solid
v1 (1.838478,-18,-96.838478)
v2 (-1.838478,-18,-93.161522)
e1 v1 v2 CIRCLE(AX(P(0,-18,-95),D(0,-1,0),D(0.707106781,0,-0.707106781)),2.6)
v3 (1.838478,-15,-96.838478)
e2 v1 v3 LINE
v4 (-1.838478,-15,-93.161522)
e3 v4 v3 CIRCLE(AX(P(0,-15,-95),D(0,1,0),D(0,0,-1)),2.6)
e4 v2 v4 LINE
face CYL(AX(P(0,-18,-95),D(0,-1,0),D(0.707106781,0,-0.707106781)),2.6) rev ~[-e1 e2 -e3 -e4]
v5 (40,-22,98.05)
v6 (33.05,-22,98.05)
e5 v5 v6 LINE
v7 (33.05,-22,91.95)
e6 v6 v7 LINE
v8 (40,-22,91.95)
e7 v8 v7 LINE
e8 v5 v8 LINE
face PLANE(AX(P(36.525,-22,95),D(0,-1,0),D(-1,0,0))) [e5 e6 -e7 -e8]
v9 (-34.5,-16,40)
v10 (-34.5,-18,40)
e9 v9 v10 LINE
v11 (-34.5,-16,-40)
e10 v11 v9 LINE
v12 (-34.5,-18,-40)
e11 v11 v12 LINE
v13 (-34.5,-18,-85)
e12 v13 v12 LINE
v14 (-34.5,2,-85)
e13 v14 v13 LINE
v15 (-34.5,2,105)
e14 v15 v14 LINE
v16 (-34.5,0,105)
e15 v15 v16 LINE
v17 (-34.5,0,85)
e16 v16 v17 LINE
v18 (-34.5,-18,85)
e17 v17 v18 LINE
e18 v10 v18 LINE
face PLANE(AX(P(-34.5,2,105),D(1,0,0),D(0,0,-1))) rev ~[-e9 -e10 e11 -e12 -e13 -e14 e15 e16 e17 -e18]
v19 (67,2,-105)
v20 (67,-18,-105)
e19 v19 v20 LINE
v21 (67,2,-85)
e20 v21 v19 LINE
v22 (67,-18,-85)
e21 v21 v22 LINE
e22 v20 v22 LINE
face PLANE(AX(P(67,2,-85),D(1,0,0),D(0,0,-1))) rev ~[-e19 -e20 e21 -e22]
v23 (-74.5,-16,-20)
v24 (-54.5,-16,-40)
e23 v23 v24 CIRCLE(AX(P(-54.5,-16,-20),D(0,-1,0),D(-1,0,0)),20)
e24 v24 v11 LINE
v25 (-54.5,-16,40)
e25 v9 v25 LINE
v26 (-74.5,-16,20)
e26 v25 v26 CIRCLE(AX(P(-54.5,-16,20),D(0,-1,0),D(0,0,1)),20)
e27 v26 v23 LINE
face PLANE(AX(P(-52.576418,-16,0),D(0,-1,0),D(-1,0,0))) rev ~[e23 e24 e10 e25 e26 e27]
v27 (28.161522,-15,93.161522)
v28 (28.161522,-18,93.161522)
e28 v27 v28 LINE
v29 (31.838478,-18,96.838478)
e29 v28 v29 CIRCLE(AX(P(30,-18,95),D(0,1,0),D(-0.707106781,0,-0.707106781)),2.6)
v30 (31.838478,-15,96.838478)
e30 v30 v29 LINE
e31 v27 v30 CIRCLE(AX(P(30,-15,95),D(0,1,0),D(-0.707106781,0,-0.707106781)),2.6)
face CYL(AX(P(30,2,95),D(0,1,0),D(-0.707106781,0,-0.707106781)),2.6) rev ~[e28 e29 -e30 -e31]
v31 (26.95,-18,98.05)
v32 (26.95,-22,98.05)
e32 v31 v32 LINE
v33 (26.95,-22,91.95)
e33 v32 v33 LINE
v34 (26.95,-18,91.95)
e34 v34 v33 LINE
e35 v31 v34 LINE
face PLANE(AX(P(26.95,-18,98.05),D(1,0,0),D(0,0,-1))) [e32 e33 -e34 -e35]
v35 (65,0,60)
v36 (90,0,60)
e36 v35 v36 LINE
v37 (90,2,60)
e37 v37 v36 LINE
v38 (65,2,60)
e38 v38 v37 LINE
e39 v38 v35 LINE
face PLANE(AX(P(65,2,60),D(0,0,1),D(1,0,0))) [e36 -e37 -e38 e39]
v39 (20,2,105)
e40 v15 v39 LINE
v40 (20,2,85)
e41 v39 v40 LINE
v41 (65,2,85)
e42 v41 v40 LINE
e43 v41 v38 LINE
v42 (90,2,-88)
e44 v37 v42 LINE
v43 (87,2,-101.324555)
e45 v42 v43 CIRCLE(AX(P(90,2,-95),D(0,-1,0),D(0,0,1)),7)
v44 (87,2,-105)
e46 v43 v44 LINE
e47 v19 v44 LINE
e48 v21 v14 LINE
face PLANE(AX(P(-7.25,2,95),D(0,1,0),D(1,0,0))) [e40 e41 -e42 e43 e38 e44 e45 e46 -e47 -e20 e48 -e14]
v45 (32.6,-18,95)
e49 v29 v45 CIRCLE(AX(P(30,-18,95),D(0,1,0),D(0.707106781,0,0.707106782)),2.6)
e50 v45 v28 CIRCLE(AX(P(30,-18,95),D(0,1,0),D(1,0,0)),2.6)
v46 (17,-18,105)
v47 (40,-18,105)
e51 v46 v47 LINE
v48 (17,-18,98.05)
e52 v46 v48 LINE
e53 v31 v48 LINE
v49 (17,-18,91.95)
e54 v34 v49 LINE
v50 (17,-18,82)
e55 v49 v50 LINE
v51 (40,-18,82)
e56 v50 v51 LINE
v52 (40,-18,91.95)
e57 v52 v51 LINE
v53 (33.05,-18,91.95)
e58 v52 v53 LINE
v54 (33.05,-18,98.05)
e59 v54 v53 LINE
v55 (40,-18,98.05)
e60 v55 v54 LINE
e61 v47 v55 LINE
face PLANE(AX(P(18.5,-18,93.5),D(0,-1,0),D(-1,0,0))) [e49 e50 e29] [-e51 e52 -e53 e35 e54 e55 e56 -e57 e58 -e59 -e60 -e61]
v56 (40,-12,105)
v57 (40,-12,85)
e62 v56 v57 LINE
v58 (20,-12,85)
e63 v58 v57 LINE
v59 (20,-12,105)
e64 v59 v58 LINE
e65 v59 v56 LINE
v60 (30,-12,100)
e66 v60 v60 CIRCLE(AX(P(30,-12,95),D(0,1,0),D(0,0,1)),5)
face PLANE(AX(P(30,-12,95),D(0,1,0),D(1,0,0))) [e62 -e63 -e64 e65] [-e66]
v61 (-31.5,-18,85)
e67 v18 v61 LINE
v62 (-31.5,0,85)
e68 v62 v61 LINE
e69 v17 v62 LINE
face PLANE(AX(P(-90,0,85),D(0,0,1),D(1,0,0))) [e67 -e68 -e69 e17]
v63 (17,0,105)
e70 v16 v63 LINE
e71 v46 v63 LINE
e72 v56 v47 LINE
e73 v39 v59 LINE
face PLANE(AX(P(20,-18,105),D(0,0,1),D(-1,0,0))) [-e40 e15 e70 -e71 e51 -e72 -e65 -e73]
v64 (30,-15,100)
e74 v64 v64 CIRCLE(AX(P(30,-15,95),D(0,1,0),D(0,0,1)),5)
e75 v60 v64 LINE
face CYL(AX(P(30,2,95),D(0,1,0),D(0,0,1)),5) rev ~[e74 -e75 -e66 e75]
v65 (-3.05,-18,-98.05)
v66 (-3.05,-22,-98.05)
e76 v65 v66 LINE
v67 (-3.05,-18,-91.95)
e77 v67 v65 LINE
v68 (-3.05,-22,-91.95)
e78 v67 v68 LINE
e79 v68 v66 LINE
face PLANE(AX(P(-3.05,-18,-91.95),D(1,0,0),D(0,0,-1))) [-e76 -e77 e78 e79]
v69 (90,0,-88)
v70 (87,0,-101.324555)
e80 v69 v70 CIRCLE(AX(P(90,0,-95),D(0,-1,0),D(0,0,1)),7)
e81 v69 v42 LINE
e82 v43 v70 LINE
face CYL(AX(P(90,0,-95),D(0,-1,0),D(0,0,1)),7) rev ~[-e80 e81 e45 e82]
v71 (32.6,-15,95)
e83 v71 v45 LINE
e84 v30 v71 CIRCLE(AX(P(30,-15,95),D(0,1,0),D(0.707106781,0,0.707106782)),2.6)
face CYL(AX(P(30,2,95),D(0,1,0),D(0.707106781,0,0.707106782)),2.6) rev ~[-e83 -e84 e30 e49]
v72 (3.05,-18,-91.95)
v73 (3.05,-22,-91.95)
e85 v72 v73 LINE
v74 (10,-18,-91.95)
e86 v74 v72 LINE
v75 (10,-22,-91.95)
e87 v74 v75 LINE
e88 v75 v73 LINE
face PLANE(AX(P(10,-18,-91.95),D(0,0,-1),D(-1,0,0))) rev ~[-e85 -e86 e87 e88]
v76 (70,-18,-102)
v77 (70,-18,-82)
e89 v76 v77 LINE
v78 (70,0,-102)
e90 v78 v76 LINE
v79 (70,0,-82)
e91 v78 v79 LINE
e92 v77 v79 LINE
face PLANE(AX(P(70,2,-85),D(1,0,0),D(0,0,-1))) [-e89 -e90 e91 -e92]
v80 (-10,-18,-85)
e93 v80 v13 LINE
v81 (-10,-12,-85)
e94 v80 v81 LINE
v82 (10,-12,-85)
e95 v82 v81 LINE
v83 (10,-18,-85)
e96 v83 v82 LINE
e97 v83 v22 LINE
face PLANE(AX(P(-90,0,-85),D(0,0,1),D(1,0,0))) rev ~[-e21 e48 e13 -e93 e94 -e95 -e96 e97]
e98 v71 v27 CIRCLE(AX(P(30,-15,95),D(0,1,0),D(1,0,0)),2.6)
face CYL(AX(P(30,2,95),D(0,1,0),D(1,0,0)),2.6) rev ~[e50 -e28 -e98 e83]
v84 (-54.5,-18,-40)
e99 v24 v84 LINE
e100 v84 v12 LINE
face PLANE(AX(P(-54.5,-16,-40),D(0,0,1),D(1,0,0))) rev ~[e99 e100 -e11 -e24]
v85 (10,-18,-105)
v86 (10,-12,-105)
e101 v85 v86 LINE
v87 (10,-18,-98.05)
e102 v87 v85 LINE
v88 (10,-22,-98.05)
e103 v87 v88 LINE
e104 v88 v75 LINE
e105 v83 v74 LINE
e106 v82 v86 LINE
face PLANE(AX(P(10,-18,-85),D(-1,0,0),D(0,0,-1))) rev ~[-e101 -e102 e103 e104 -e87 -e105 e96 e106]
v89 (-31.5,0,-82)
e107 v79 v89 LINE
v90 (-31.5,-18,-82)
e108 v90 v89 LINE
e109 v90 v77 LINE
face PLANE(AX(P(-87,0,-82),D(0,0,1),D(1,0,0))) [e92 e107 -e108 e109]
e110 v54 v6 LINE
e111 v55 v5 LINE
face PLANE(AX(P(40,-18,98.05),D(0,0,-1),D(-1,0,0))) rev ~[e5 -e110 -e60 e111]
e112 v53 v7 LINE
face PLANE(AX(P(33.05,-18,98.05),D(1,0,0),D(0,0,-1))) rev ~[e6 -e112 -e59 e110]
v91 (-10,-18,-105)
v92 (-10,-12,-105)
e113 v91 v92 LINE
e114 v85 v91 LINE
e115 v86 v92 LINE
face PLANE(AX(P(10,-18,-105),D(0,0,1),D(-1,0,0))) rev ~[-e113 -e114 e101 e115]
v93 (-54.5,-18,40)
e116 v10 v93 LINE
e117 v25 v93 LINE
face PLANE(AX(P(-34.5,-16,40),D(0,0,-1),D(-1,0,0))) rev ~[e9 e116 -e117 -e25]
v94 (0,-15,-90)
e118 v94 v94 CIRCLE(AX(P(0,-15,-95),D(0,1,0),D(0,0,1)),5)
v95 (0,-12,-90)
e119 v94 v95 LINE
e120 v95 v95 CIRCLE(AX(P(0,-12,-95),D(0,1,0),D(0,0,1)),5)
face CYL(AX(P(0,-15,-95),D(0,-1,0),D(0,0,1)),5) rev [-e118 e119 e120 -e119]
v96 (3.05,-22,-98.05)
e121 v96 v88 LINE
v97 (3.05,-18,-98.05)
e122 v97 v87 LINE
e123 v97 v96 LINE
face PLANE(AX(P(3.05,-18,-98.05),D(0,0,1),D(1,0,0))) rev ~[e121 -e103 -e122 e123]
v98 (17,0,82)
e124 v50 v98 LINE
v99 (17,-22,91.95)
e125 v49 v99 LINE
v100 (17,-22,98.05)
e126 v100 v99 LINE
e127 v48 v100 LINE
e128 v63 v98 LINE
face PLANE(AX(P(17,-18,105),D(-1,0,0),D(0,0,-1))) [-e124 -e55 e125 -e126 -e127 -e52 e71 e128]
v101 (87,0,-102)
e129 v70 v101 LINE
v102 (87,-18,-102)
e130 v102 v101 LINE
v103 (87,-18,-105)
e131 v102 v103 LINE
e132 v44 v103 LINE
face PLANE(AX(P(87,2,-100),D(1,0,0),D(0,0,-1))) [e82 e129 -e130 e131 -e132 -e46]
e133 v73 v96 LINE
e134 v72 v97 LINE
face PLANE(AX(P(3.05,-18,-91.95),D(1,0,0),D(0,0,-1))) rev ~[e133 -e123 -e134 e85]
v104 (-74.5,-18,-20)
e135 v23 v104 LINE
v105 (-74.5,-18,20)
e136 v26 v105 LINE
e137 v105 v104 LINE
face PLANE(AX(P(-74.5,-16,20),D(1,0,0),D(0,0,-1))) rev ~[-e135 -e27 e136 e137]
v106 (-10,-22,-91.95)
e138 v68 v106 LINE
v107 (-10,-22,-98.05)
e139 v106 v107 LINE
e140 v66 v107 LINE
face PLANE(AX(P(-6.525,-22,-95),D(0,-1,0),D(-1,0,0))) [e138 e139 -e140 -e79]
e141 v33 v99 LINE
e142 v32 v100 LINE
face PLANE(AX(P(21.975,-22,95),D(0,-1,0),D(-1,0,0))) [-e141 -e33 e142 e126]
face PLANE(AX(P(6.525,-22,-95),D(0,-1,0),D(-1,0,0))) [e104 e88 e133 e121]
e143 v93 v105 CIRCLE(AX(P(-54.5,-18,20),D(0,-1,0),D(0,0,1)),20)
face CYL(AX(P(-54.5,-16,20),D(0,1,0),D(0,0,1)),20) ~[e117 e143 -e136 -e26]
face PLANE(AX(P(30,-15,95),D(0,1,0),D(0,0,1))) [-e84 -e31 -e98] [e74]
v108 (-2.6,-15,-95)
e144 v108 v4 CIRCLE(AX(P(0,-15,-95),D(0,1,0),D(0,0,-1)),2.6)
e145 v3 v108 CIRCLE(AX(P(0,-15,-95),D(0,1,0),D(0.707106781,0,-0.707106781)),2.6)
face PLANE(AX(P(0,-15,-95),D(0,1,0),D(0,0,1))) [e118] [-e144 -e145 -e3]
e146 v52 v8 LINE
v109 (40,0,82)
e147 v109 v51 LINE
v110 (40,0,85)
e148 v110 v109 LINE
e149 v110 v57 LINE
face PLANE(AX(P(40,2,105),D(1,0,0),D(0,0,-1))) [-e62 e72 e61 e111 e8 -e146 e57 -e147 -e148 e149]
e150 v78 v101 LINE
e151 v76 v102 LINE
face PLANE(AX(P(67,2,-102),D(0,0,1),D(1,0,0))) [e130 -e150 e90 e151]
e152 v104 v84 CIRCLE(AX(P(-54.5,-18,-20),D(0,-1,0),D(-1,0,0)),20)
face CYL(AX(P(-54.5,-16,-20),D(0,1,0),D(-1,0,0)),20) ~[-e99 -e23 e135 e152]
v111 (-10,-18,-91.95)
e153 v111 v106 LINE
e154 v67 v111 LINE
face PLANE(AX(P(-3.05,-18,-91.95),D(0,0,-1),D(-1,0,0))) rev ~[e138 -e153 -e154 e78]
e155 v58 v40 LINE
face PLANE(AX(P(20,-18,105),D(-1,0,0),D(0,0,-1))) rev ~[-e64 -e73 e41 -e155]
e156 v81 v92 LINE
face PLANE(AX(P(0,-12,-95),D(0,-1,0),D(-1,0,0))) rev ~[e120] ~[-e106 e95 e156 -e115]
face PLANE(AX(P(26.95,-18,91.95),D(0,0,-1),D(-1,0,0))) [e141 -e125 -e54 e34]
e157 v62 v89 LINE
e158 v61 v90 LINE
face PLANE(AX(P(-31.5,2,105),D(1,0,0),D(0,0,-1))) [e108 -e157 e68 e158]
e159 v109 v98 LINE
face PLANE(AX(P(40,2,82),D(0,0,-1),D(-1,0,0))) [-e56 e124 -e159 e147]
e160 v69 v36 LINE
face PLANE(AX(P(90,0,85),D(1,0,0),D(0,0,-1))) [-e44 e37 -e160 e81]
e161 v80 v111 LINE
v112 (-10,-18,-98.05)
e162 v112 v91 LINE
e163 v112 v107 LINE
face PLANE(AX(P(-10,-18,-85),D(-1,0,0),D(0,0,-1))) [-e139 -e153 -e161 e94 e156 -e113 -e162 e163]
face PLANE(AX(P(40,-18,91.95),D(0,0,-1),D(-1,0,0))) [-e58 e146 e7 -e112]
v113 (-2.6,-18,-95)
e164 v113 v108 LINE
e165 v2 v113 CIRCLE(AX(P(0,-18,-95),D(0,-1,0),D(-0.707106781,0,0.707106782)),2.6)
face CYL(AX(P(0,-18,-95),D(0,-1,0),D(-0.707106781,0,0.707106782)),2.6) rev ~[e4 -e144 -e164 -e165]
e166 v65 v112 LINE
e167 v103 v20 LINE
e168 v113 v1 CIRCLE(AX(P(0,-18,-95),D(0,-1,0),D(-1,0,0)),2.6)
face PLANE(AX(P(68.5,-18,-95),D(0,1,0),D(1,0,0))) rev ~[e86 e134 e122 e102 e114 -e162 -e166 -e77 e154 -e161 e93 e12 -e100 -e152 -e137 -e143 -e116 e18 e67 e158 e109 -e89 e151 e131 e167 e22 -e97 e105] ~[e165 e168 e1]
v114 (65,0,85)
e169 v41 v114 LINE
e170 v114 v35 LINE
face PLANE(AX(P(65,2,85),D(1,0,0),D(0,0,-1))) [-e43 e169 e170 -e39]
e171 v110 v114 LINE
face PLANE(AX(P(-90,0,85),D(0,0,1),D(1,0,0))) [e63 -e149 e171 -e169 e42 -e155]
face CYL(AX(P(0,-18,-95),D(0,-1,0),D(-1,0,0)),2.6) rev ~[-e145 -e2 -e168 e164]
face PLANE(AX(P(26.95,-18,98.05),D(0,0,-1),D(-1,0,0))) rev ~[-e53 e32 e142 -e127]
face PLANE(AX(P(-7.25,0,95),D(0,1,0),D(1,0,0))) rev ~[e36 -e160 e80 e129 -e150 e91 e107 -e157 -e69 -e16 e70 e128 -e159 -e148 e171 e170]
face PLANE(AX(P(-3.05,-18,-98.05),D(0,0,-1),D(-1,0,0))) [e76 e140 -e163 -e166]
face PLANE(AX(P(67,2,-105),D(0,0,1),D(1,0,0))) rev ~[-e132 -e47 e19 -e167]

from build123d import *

# Parameters (mm, degrees)
SKETCH_1_W           = 180
SKETCH_1_H           = 170
EXTRUDE_1_DEPTH      = 2
SKETCH_2_W           = 180
SKETCH_2_H           = 2
SKETCH_2_W_2         = 2
SKETCH_2_H_2         = 166
EXTRUDE_2_DEPTH      = 18
SKETCH_4_W           = 20
SKETCH_4_H           = 20
EXTRUDE_3_DEPTH      = 20
SKETCH_5_W           = 20
SKETCH_5_H           = 20
CUT_EXTRUDE_1_DEPTH  = 14
SKETCH_6_W           = 176
SKETCH_6_H           = 166
SKETCH_6_W_2         = 174
SKETCH_6_H_2         = 164
EXTRUDE_4_DEPTH      = 18
SKETCH_7_W           = 20
SKETCH_7_H           = 20
EXTRUDE_5_DEPTH      = 6
SKETCH_8_W           = 3
SKETCH_8_H           = 164
SKETCH_8_H_2         = 3
CUT_EXTRUDE_2_DEPTH  = 18
SKETCH_9_W           = 77
SKETCH_9_H           = 3
CUT_EXTRUDE_3_DEPTH  = 18
SKETCH_10_W          = 25
SKETCH_10_H          = 25
CUT_EXTRUDE_4_DEPTH  = 18
SKETCH_11_W          = 6.95
SKETCH_11_H          = 6.1
EXTRUDE_6_DEPTH      = 4
CUT_EXTRUDE_5_DEPTH  = 6
CUT_EXTRUDE_START    = -3
SKETCH_13_R          = 5
SKETCH_13_R_2        = 2.6
CUT_EXTRUDE_6_DEPTH  = 3
CUT_EXTRUDE_7_DEPTH  = 3
SKETCH_15_R          = 2.6
CUT_EXTRUDE_8_DEPTH  = 3
SKETCH_16_W          = 6.1
SKETCH_16_H          = 6.95
EXTRUDE_7_DEPTH      = 4
CUT_EXTRUDE_9_DEPTH  = 6
SKETCH_18_R          = 5
SKETCH_18_R_2        = 2.6
CUT_EXTRUDE_10_DEPTH = 3
EXTRUDE_8_DEPTH      = 4
SKETCH_20_W          = 30
SKETCH_20_H          = 20
SKETCH_20_W_2        = 80
EXTRUDE_9_DEPTH      = 2
SKETCH_21_W          = 3
SKETCH_21_H          = 20
EXTRUDE_10_DEPTH     = 18
SKETCH_22_W          = 20
SKETCH_22_H          = 20
SKETCH_22_R          = 5
EXTRUDE_11_DEPTH     = 14
SKETCH_23_W          = 30
SKETCH_23_H          = 20
CUT_EXTRUDE_11_DEPTH = 14
SKETCH_24_W          = 20
SKETCH_24_H          = 20
EXTRUDE_12_DEPTH     = 2
SKETCH_25_W          = 20
SKETCH_25_H          = 3
CUT_EXTRUDE_12_DEPTH = 18
CUT_EXTRUDE_13_DEPTH = 18
SKETCH_27_W          = 3
SKETCH_27_H          = 20
EXTRUDE_13_DEPTH     = 20
SKETCH_28_W          = 23
SKETCH_28_H          = 3
EXTRUDE_14_DEPTH     = 20
SKETCH_29_W          = 3
SKETCH_29_H          = 5
CUT_EXTRUDE_14_DEPTH = 20
SKETCH_30_W          = 20
SKETCH_30_H          = 20
CUT_EXTRUDE_15_DEPTH = 30
SKETCH_31_W          = 3
SKETCH_31_H          = 190
EXTRUDE_15_DEPTH     = 20
EXTRUDE_START        = -2
EXTRUDE_16_DEPTH     = 2
SKETCH_33_W          = 40
SKETCH_33_H          = 80
CUT_EXTRUDE_16_DEPTH = 2
SKETCH_34_W          = 44.5
SKETCH_34_H          = 20
CUT_EXTRUDE_17_DEPTH = 30
SKETCH_35_W          = 20
SKETCH_35_H          = 3
CUT_EXTRUDE_18_DEPTH = 18
EXTRUDE_17_DEPTH     = 20
CUT_EXTRUDE_19_DEPTH = 20
SKETCH_38_R          = 5
CUT_EXTRUDE_20_DEPTH = 17
SKETCH_39_W          = 20
SKETCH_39_H          = 20
CUT_EXTRUDE_21_DEPTH = 14
SKETCH_40_W          = 54.5
SKETCH_40_H          = 20
EXTRUDE_18_DEPTH     = 2
SKETCH_42_W          = 3
SKETCH_42_H          = 23
EXTRUDE_20_DEPTH     = 18
SKETCH_44_W          = 9.95
SKETCH_44_H          = 6.1
SKETCH_44_W_2        = 6.95
EXTRUDE_21_DEPTH     = 4


with BuildPart() as part:
    # 草图1 → 凸台-拉伸1 (new body)
    with BuildSketch(Plane(origin=(0, 0, 0), x_dir=(1, 0, 0), z_dir=(0, 1, 0))):
        Rectangle(SKETCH_1_W, SKETCH_1_H)
    extrude(amount=EXTRUDE_1_DEPTH)

    # 草图2 → 凸台-拉伸2 (add)
    with BuildSketch(Plane(origin=(0, 0, 0), x_dir=(1, 0, 0), z_dir=(0, 1, 0))):
        with Locations((0, 84)):
            Rectangle(SKETCH_2_W, SKETCH_2_H)
        Polygon((-88, 83), (-90, 83), (-90, -85), (-88, -85), (-88, -83), align=None)
        with Locations((89, 0)):
            Rectangle(SKETCH_2_W_2, SKETCH_2_H_2)
        Polygon((90, -85), (90, -83), (88, -83), (-88, -83), (-88, -85), align=None)
    extrude(amount=-EXTRUDE_2_DEPTH)

    # 草图4 → 凸台-拉伸3 (add)
    with BuildSketch(Plane(origin=(0, 2, 0), x_dir=(1, 0, 0), z_dir=(0, 1, 0))):
        Polygon((10, -85), (0, -85), (-10, -85), (-10, -95), (-10, -105), (10, -105), (10, -95), align=None)
        with Locations((-100, 0)):
            Rectangle(SKETCH_4_W, SKETCH_4_H)
    extrude(amount=-EXTRUDE_3_DEPTH)

    # 草图5 → 切除-拉伸1 (cut)
    with BuildSketch(Plane(origin=(0, 2, 0), x_dir=(1, 0, 0), z_dir=(0, 1, 0))):
        with Locations((-100, 0)):
            Rectangle(SKETCH_5_W, SKETCH_5_H)
        with Locations((0, -95)):
            Rectangle(SKETCH_5_W, SKETCH_5_H)
    extrude(amount=-CUT_EXTRUDE_1_DEPTH, mode=Mode.SUBTRACT)

    # 草图6 → 凸台-拉伸4 (add)
    with BuildSketch(Plane.XZ):
        Rectangle(SKETCH_6_W, SKETCH_6_H)
        Rectangle(SKETCH_6_W_2, SKETCH_6_H_2, mode=Mode.SUBTRACT)
    extrude(amount=EXTRUDE_4_DEPTH)

    # 草图7 → 凸台-拉伸5 (add)
    with BuildSketch(Plane(origin=(0, -18, 0), x_dir=(-1, 0, 0), z_dir=(0, -1, 0))):
        with Locations((0, 95)):
            Rectangle(SKETCH_7_W, SKETCH_7_H)
    extrude(amount=-EXTRUDE_5_DEPTH)

    # 草图8 → 切除-拉伸2 (cut)
    with BuildSketch(Plane(origin=(0, -18, 0), x_dir=(-1, 0, 0), z_dir=(0, -1, 0))):
        with Locations((-88.5, 0)):
            Rectangle(SKETCH_8_W, SKETCH_8_H)
        with Locations((-88.5, -83.5)):
            Rectangle(SKETCH_8_W, SKETCH_8_H_2)
    extrude(amount=-CUT_EXTRUDE_2_DEPTH, mode=Mode.SUBTRACT)

    # 草图9 → 切除-拉伸3 (cut)
    with BuildSketch(Plane(origin=(0, -18, 0), x_dir=(-1, 0, 0), z_dir=(0, -1, 0))):
        with Locations((-48.5, -83.5)):
            Rectangle(SKETCH_9_W, SKETCH_9_H)
        with Locations((48.5, -83.5)):
            Rectangle(SKETCH_9_W, SKETCH_9_H)
    extrude(amount=-CUT_EXTRUDE_3_DEPTH, mode=Mode.SUBTRACT)

    # 草图10 → 切除-拉伸4 (cut)
    with BuildSketch(Plane(origin=(0, 2, 0), x_dir=(1, 0, 0), z_dir=(0, 1, 0))):
        with Locations((77.5, -72.5)):
            Rectangle(SKETCH_10_W, SKETCH_10_H)
    extrude(amount=-CUT_EXTRUDE_4_DEPTH, mode=Mode.SUBTRACT)

    # 草图11 → 凸台-拉伸6 (add)
    with BuildSketch(Plane(origin=(0, -18, 0), x_dir=(-1, 0, 0), z_dir=(0, -1, 0))):
        Polygon((-3.05, 91.95), (-3.05, 98.05), (-10, 98.05), (-10, 95), (-10, 91.95), align=None)
        with Locations((6.525, 95)):
            Rectangle(SKETCH_11_W, SKETCH_11_H)
    extrude(amount=EXTRUDE_6_DEPTH)

    # 草图12 → 切除-拉伸5 (cut)
    with BuildSketch(Plane(origin=(0, -18, 0), x_dir=(-1, 0, 0), z_dir=(0, -1, 0))):
        with BuildLine():
            ThreePointArc((-1.838477631, 96.838477631), (-1.838477631, 93.161522369), (1.838477631, 93.161522369))
            Line((1.838477631, 93.161522369), (-1.838477631, 96.838477631))
        make_face()
        with BuildLine():
            Line((-1.838477631, 96.838477631), (1.838477631, 93.161522369))
            ThreePointArc((1.838477631, 93.161522369), (2.402086785, 94.005023076), (2.6, 95))
            ThreePointArc((2.6, 95), (0.994976924, 97.402086785), (-1.838477631, 96.838477631))
        make_face()
    extrude(amount=-CUT_EXTRUDE_5_DEPTH, mode=Mode.SUBTRACT)

    # 草图13 → 切除-拉伸6 (cut)
    with BuildSketch(Plane(origin=(0, -12, 0), x_dir=(1, 0, 0), z_dir=(0, 1, 0)).offset(CUT_EXTRUDE_START)):
        with Locations(Location((0, 95, 0), (0, 0, 270))):
            Circle(SKETCH_13_R)
        with Locations(Location((0, 95, 0), (0, 0, 90))):
            Circle(SKETCH_13_R_2, mode=Mode.SUBTRACT)
    extrude(amount=CUT_EXTRUDE_6_DEPTH, mode=Mode.SUBTRACT)

    # 草图14 → 切除-拉伸7 (cut)
    with BuildSketch(Plane(origin=(0, -12, 0), x_dir=(1, 0, 0), z_dir=(0, 1, 0))):
        with BuildLine():
            ThreePointArc((-96.464466094, 3.535533906), (-103.535533906, 3.535533906), (-103.535533906, -3.535533906))
            Line((-103.535533906, -3.535533906), (-96.464466094, 3.535533906))
        make_face()
        with BuildLine():
            Line((-96.464466094, 3.535533906), (-103.535533906, -3.535533906))
            ThreePointArc((-103.535533906, -3.535533906), (-98.086582838, -4.619397663), (-95, 0))
            ThreePointArc((-95, 0), (-95.380602337, 1.913417162), (-96.464466094, 3.535533906))
        make_face()
    extrude(amount=-CUT_EXTRUDE_7_DEPTH, mode=Mode.SUBTRACT)

    # 草图15 → 切除-拉伸8 (cut)
    with BuildSketch(Plane(origin=(0, -15, 0), x_dir=(1, 0, 0), z_dir=(0, 1, 0))):
        with Locations(Location((-100, 0, 0), (0, 0, 270))):
            Circle(SKETCH_15_R)
    extrude(amount=-CUT_EXTRUDE_8_DEPTH, mode=Mode.SUBTRACT)

    # 草图16 → 凸台-拉伸7 (add)
    with BuildSketch(Plane.XZ.offset(18)):
        Polygon((-96.95, -3.05), (-100, -3.05), (-103.05, -3.05), (-103.05, -10), (-96.95, -10), align=None)
        with Locations((-100, 6.525)):
            Rectangle(SKETCH_16_W, SKETCH_16_H)
    extrude(amount=EXTRUDE_7_DEPTH)

    # 草图17 → 切除-拉伸9 (cut)
    with BuildSketch(Plane(origin=(0, -18, 0), x_dir=(-1, 0, 0), z_dir=(0, -1, 0))):
        with BuildLine():
            ThreePointArc((2.6, -95), (0.994976924, -92.597913215), (-1.838477631, -93.161522369))
            Line((-1.838477631, -93.161522369), (1.838477631, -96.838477631))
            ThreePointArc((1.838477631, -96.838477631), (2.402086785, -95.994976924), (2.6, -95))
        make_face()
        with BuildLine():
            Line((1.838477631, -96.838477631), (-1.838477631, -93.161522369))
            ThreePointArc((-1.838477631, -93.161522369), (-1.838477631, -96.838477631), (1.838477631, -96.838477631))
        make_face()
    extrude(amount=-CUT_EXTRUDE_9_DEPTH, mode=Mode.SUBTRACT)

    # 草图18 → 切除-拉伸10 (cut)
    with BuildSketch(Plane(origin=(0, -12, 0), x_dir=(1, 0, 0), z_dir=(0, 1, 0)).offset(CUT_EXTRUDE_START)):
        with Locations(Location((0, -95, 0), (0, 0, 270))):
            Circle(SKETCH_18_R)
        with Locations(Location((0, -95, 0), (0, 0, 90))):
            Circle(SKETCH_18_R_2, mode=Mode.SUBTRACT)
    extrude(amount=CUT_EXTRUDE_10_DEPTH, mode=Mode.SUBTRACT)

    # 草图19 → 凸台-拉伸8 (add)
    with BuildSketch(Plane(origin=(0, -18, 0), x_dir=(-1, 0, 0), z_dir=(0, -1, 0))):
        Polygon((3.05, -91.95), (3.05, -95), (3.05, -98.05), (10, -98.05), (10, -91.95), align=None)
        Polygon((-3.05, -98.05), (-3.05, -95), (-3.05, -91.95), (-10, -91.95), (-10, -98.05), align=None)
    extrude(amount=EXTRUDE_8_DEPTH)

    # 草图20 → 凸台-拉伸9 (add)
    with BuildSketch(Plane(origin=(0, 2, 0), x_dir=(1, 0, 0), z_dir=(0, 1, 0))):
        with Locations((25, -95)):
            Rectangle(SKETCH_20_W, SKETCH_20_H)
        with Locations((-50, -95)):
            Rectangle(SKETCH_20_W_2, SKETCH_20_H)
    extrude(amount=-EXTRUDE_9_DEPTH)

    # 草图21 → 凸台-拉伸10 (add)
    with BuildSketch(Plane(origin=(0, 0, 0), x_dir=(-1, 0, 0), z_dir=(0, -1, 0))):
        with Locations((88.5, -95)):
            Rectangle(SKETCH_21_W, SKETCH_21_H)
    extrude(amount=EXTRUDE_10_DEPTH)

    # 草图22 → 凸台-拉伸11 (add)
    with BuildSketch(Plane(origin=(0, -12, 0), x_dir=(1, 0, 0), z_dir=(0, 1, 0))):
        with Locations((0, -95)):
            Rectangle(SKETCH_22_W, SKETCH_22_H)
        with Locations(Location((0, -95, 0), (0, 0, 270))):
            Circle(SKETCH_22_R, mode=Mode.SUBTRACT)
    extrude(amount=EXTRUDE_11_DEPTH)

    # 草图23 → 切除-拉伸11 (cut)
    with BuildSketch(Plane(origin=(0, 0, 0), x_dir=(-1, 0, 0), z_dir=(0, -1, 0))):
        with Locations((-25, -95)):
            Rectangle(SKETCH_23_W, SKETCH_23_H)
    extrude(amount=-CUT_EXTRUDE_11_DEPTH, mode=Mode.SUBTRACT)

    # 草图24 → 凸台-拉伸12 (add)
    with BuildSketch(Plane(origin=(0, 2, 0), x_dir=(1, 0, 0), z_dir=(0, 1, 0))):
        with Locations((80, 95)):
            Rectangle(SKETCH_24_W, SKETCH_24_H)
    extrude(amount=-EXTRUDE_12_DEPTH)

    # 草图25 → 切除-拉伸12 (cut)
    with BuildSketch(Plane(origin=(0, -18, 0), x_dir=(-1, 0, 0), z_dir=(0, -1, 0))):
        with Locations((-80, 83.5)):
            Rectangle(SKETCH_25_W, SKETCH_25_H)
    extrude(amount=-CUT_EXTRUDE_12_DEPTH, mode=Mode.SUBTRACT)

    # 草图26 → 切除-拉伸13 (cut)
    with BuildSketch(Plane.XZ):
        with BuildLine():
            ThreePointArc((90, -88), (83, -95), (90, -102))
            Line((90, -102), (90, -95))
            Line((90, -95), (90, -88))
        make_face()
    extrude(amount=-CUT_EXTRUDE_13_DEPTH, mode=Mode.SUBTRACT)

    # 草图27 → 凸台-拉伸13 (add)
    with BuildSketch(Plane(origin=(0, 2, 0), x_dir=(1, 0, 0), z_dir=(0, 1, 0))):
        with Locations((68.5, 95)):
            Rectangle(SKETCH_27_W, SKETCH_27_H)
    extrude(amount=-EXTRUDE_13_DEPTH)

    # 草图28 → 凸台-拉伸14 (add)
    with BuildSketch(Plane(origin=(0, 2, 0), x_dir=(1, 0, 0), z_dir=(0, 1, 0))):
        with Locations((78.5, 103.5)):
            Rectangle(SKETCH_28_W, SKETCH_28_H)
    extrude(amount=-EXTRUDE_14_DEPTH)

    # 草图29 → 切除-拉伸14 (cut)
    with BuildSketch(Plane(origin=(0, 2, 0), x_dir=(1, 0, 0), z_dir=(0, 1, 0))):
        with Locations((88.5, 102.5)):
            Rectangle(SKETCH_29_W, SKETCH_29_H)
    extrude(amount=-CUT_EXTRUDE_14_DEPTH, mode=Mode.SUBTRACT)

    # 草图30 → 切除-拉伸15 (cut)
    with BuildSketch(Plane(origin=(0, 2, 0), x_dir=(1, 0, 0), z_dir=(0, 1, 0))):
        with BuildLine():
            Line((-34.5, 40), (-34.5, 85))
            Line((-34.5, 85), (-90, 85))
            Line((-90, 85), (-90, 10))
            Line((-90, 10), (-90, -10))
            Line((-90, -10), (-90, -105))
            Line((-90, -105), (-34.5, -105))
            Line((-34.5, -105), (-34.5, -85))
            Line((-34.5, -85), (-34.5, -40))
            Line((-34.5, -40), (-54.5, -40))
            ThreePointArc((-54.5, -40), (-68.642135624, -34.142135624), (-74.5, -20))
            Line((-74.5, -20), (-74.5, 20))
            ThreePointArc((-74.5, 20), (-68.642135624, 34.142135624), (-54.5, 40))
            Line((-54.5, 40), (-34.5, 40))
        make_face()
        with Locations((-100, 0)):
            Rectangle(SKETCH_30_W, SKETCH_30_H)
    extrude(amount=-CUT_EXTRUDE_15_DEPTH, mode=Mode.SUBTRACT)

    # 草图31 → 凸台-拉伸15 (add)
    with BuildSketch(Plane(origin=(0, 2, 0), x_dir=(1, 0, 0), z_dir=(0, 1, 0))):
        with Locations((-33, -10)):
            Rectangle(SKETCH_31_W, SKETCH_31_H)
    extrude(amount=-EXTRUDE_15_DEPTH)

    # 草图32 → 凸台-拉伸16 (add)
    with BuildSketch(Plane(origin=(0, -18, 0), x_dir=(-1, 0, 0), z_dir=(0, -1, 0)).offset(EXTRUDE_START)):
        with BuildLine():
            Line((34.5, -40), (54.5, -40))
            ThreePointArc((54.5, -40), (68.642135624, -34.142135624), (74.5, -20))
            Line((74.5, -20), (74.5, 20))
            ThreePointArc((74.5, 20), (68.642135624, 34.142135624), (54.5, 40))
            Line((54.5, 40), (34.5, 40))
            Line((34.5, 40), (34.5, -40))
        make_face()
    extrude(amount=EXTRUDE_16_DEPTH)

    # 草图33 → 切除-拉伸16 (cut)
    with BuildSketch(Plane(origin=(0, 2, 0), x_dir=(1, 0, 0), z_dir=(0, 1, 0))):
        with Locations((-54.5, 0)):
            Rectangle(SKETCH_33_W, SKETCH_33_H)
    extrude(amount=-CUT_EXTRUDE_16_DEPTH, mode=Mode.SUBTRACT)

    # 草图34 → 切除-拉伸17 (cut)
    with BuildSketch(Plane(origin=(0, 2, 0), x_dir=(1, 0, 0), z_dir=(0, 1, 0))):
        with Locations((-12.25, -95)):
            Rectangle(SKETCH_34_W, SKETCH_34_H)
    extrude(amount=-CUT_EXTRUDE_17_DEPTH, mode=Mode.SUBTRACT)

    # 草图35 → 切除-拉伸18 (cut)
    with BuildSketch(Plane(origin=(0, -18, 0), x_dir=(-1, 0, 0), z_dir=(0, -1, 0))):
        with Locations((0, -83.5)):
            Rectangle(SKETCH_35_W, SKETCH_35_H)
    extrude(amount=-CUT_EXTRUDE_18_DEPTH, mode=Mode.SUBTRACT)

    # 草图36 → 凸台-拉伸17 (add)
    with BuildSketch(Plane(origin=(0, 2, 0), x_dir=(1, 0, 0), z_dir=(0, 1, 0))):
        Polygon((40, -105), (40, -85), (40, -82), (20, -82), (20, -85), (20, -105), align=None)
    extrude(amount=-EXTRUDE_17_DEPTH)

    # 草图37 → 切除-拉伸19 (cut)
    with BuildSketch(Plane(origin=(0, 2, 0), x_dir=(1, 0, 0), z_dir=(0, 1, 0))):
        with BuildLine():
            ThreePointArc((32.6, -95), (30.994976924, -92.597913215), (28.161522369, -93.161522369))
            Line((28.161522369, -93.161522369), (31.838477631, -96.838477631))
            ThreePointArc((31.838477631, -96.838477631), (32.402086785, -95.994976924), (32.6, -95))
        make_face()
        with BuildLine():
            Line((31.838477631, -96.838477631), (28.161522369, -93.161522369))
            ThreePointArc((28.161522369, -93.161522369), (28.161522369, -96.838477631), (31.838477631, -96.838477631))
        make_face()
    extrude(amount=-CUT_EXTRUDE_19_DEPTH, mode=Mode.SUBTRACT)

    # 草图38 → 切除-拉伸20 (cut)
    with BuildSketch(Plane(origin=(0, 2, 0), x_dir=(1, 0, 0), z_dir=(0, 1, 0))):
        with Locations(Location((30, -95, 0), (0, 0, 270))):
            Circle(SKETCH_38_R)
    extrude(amount=-CUT_EXTRUDE_20_DEPTH, mode=Mode.SUBTRACT)

    # 草图39 → 切除-拉伸21 (cut)
    with BuildSketch(Plane(origin=(0, 2, 0), x_dir=(1, 0, 0), z_dir=(0, 1, 0))):
        with Locations((30, -95)):
            Rectangle(SKETCH_39_W, SKETCH_39_H)
    extrude(amount=-CUT_EXTRUDE_21_DEPTH, mode=Mode.SUBTRACT)

    # 草图40 → 凸台-拉伸18 (add)
    with BuildSketch(Plane(origin=(0, 2, 0), x_dir=(1, 0, 0), z_dir=(0, 1, 0))):
        with Locations((-7.25, -95)):
            Rectangle(SKETCH_40_W, SKETCH_40_H)
    extrude(amount=-EXTRUDE_18_DEPTH)

    # 草图42 → 凸台-拉伸20 (add)
    with BuildSketch(Plane(origin=(0, -18, 0), x_dir=(-1, 0, 0), z_dir=(0, -1, 0))):
        with Locations((-18.5, -93.5)):
            Rectangle(SKETCH_42_W, SKETCH_42_H)
    extrude(amount=-EXTRUDE_20_DEPTH)

    # 草图44 → 凸台-拉伸21 (add)
    with BuildSketch(Plane(origin=(0, -18, 0), x_dir=(-1, 0, 0), z_dir=(0, -1, 0))):
        with Locations((-21.975, -95)):
            Rectangle(SKETCH_44_W, SKETCH_44_H)
        with Locations((-36.525, -95)):
            Rectangle(SKETCH_44_W_2, SKETCH_44_H)
    extrude(amount=EXTRUDE_21_DEPTH)


solid = part.part
